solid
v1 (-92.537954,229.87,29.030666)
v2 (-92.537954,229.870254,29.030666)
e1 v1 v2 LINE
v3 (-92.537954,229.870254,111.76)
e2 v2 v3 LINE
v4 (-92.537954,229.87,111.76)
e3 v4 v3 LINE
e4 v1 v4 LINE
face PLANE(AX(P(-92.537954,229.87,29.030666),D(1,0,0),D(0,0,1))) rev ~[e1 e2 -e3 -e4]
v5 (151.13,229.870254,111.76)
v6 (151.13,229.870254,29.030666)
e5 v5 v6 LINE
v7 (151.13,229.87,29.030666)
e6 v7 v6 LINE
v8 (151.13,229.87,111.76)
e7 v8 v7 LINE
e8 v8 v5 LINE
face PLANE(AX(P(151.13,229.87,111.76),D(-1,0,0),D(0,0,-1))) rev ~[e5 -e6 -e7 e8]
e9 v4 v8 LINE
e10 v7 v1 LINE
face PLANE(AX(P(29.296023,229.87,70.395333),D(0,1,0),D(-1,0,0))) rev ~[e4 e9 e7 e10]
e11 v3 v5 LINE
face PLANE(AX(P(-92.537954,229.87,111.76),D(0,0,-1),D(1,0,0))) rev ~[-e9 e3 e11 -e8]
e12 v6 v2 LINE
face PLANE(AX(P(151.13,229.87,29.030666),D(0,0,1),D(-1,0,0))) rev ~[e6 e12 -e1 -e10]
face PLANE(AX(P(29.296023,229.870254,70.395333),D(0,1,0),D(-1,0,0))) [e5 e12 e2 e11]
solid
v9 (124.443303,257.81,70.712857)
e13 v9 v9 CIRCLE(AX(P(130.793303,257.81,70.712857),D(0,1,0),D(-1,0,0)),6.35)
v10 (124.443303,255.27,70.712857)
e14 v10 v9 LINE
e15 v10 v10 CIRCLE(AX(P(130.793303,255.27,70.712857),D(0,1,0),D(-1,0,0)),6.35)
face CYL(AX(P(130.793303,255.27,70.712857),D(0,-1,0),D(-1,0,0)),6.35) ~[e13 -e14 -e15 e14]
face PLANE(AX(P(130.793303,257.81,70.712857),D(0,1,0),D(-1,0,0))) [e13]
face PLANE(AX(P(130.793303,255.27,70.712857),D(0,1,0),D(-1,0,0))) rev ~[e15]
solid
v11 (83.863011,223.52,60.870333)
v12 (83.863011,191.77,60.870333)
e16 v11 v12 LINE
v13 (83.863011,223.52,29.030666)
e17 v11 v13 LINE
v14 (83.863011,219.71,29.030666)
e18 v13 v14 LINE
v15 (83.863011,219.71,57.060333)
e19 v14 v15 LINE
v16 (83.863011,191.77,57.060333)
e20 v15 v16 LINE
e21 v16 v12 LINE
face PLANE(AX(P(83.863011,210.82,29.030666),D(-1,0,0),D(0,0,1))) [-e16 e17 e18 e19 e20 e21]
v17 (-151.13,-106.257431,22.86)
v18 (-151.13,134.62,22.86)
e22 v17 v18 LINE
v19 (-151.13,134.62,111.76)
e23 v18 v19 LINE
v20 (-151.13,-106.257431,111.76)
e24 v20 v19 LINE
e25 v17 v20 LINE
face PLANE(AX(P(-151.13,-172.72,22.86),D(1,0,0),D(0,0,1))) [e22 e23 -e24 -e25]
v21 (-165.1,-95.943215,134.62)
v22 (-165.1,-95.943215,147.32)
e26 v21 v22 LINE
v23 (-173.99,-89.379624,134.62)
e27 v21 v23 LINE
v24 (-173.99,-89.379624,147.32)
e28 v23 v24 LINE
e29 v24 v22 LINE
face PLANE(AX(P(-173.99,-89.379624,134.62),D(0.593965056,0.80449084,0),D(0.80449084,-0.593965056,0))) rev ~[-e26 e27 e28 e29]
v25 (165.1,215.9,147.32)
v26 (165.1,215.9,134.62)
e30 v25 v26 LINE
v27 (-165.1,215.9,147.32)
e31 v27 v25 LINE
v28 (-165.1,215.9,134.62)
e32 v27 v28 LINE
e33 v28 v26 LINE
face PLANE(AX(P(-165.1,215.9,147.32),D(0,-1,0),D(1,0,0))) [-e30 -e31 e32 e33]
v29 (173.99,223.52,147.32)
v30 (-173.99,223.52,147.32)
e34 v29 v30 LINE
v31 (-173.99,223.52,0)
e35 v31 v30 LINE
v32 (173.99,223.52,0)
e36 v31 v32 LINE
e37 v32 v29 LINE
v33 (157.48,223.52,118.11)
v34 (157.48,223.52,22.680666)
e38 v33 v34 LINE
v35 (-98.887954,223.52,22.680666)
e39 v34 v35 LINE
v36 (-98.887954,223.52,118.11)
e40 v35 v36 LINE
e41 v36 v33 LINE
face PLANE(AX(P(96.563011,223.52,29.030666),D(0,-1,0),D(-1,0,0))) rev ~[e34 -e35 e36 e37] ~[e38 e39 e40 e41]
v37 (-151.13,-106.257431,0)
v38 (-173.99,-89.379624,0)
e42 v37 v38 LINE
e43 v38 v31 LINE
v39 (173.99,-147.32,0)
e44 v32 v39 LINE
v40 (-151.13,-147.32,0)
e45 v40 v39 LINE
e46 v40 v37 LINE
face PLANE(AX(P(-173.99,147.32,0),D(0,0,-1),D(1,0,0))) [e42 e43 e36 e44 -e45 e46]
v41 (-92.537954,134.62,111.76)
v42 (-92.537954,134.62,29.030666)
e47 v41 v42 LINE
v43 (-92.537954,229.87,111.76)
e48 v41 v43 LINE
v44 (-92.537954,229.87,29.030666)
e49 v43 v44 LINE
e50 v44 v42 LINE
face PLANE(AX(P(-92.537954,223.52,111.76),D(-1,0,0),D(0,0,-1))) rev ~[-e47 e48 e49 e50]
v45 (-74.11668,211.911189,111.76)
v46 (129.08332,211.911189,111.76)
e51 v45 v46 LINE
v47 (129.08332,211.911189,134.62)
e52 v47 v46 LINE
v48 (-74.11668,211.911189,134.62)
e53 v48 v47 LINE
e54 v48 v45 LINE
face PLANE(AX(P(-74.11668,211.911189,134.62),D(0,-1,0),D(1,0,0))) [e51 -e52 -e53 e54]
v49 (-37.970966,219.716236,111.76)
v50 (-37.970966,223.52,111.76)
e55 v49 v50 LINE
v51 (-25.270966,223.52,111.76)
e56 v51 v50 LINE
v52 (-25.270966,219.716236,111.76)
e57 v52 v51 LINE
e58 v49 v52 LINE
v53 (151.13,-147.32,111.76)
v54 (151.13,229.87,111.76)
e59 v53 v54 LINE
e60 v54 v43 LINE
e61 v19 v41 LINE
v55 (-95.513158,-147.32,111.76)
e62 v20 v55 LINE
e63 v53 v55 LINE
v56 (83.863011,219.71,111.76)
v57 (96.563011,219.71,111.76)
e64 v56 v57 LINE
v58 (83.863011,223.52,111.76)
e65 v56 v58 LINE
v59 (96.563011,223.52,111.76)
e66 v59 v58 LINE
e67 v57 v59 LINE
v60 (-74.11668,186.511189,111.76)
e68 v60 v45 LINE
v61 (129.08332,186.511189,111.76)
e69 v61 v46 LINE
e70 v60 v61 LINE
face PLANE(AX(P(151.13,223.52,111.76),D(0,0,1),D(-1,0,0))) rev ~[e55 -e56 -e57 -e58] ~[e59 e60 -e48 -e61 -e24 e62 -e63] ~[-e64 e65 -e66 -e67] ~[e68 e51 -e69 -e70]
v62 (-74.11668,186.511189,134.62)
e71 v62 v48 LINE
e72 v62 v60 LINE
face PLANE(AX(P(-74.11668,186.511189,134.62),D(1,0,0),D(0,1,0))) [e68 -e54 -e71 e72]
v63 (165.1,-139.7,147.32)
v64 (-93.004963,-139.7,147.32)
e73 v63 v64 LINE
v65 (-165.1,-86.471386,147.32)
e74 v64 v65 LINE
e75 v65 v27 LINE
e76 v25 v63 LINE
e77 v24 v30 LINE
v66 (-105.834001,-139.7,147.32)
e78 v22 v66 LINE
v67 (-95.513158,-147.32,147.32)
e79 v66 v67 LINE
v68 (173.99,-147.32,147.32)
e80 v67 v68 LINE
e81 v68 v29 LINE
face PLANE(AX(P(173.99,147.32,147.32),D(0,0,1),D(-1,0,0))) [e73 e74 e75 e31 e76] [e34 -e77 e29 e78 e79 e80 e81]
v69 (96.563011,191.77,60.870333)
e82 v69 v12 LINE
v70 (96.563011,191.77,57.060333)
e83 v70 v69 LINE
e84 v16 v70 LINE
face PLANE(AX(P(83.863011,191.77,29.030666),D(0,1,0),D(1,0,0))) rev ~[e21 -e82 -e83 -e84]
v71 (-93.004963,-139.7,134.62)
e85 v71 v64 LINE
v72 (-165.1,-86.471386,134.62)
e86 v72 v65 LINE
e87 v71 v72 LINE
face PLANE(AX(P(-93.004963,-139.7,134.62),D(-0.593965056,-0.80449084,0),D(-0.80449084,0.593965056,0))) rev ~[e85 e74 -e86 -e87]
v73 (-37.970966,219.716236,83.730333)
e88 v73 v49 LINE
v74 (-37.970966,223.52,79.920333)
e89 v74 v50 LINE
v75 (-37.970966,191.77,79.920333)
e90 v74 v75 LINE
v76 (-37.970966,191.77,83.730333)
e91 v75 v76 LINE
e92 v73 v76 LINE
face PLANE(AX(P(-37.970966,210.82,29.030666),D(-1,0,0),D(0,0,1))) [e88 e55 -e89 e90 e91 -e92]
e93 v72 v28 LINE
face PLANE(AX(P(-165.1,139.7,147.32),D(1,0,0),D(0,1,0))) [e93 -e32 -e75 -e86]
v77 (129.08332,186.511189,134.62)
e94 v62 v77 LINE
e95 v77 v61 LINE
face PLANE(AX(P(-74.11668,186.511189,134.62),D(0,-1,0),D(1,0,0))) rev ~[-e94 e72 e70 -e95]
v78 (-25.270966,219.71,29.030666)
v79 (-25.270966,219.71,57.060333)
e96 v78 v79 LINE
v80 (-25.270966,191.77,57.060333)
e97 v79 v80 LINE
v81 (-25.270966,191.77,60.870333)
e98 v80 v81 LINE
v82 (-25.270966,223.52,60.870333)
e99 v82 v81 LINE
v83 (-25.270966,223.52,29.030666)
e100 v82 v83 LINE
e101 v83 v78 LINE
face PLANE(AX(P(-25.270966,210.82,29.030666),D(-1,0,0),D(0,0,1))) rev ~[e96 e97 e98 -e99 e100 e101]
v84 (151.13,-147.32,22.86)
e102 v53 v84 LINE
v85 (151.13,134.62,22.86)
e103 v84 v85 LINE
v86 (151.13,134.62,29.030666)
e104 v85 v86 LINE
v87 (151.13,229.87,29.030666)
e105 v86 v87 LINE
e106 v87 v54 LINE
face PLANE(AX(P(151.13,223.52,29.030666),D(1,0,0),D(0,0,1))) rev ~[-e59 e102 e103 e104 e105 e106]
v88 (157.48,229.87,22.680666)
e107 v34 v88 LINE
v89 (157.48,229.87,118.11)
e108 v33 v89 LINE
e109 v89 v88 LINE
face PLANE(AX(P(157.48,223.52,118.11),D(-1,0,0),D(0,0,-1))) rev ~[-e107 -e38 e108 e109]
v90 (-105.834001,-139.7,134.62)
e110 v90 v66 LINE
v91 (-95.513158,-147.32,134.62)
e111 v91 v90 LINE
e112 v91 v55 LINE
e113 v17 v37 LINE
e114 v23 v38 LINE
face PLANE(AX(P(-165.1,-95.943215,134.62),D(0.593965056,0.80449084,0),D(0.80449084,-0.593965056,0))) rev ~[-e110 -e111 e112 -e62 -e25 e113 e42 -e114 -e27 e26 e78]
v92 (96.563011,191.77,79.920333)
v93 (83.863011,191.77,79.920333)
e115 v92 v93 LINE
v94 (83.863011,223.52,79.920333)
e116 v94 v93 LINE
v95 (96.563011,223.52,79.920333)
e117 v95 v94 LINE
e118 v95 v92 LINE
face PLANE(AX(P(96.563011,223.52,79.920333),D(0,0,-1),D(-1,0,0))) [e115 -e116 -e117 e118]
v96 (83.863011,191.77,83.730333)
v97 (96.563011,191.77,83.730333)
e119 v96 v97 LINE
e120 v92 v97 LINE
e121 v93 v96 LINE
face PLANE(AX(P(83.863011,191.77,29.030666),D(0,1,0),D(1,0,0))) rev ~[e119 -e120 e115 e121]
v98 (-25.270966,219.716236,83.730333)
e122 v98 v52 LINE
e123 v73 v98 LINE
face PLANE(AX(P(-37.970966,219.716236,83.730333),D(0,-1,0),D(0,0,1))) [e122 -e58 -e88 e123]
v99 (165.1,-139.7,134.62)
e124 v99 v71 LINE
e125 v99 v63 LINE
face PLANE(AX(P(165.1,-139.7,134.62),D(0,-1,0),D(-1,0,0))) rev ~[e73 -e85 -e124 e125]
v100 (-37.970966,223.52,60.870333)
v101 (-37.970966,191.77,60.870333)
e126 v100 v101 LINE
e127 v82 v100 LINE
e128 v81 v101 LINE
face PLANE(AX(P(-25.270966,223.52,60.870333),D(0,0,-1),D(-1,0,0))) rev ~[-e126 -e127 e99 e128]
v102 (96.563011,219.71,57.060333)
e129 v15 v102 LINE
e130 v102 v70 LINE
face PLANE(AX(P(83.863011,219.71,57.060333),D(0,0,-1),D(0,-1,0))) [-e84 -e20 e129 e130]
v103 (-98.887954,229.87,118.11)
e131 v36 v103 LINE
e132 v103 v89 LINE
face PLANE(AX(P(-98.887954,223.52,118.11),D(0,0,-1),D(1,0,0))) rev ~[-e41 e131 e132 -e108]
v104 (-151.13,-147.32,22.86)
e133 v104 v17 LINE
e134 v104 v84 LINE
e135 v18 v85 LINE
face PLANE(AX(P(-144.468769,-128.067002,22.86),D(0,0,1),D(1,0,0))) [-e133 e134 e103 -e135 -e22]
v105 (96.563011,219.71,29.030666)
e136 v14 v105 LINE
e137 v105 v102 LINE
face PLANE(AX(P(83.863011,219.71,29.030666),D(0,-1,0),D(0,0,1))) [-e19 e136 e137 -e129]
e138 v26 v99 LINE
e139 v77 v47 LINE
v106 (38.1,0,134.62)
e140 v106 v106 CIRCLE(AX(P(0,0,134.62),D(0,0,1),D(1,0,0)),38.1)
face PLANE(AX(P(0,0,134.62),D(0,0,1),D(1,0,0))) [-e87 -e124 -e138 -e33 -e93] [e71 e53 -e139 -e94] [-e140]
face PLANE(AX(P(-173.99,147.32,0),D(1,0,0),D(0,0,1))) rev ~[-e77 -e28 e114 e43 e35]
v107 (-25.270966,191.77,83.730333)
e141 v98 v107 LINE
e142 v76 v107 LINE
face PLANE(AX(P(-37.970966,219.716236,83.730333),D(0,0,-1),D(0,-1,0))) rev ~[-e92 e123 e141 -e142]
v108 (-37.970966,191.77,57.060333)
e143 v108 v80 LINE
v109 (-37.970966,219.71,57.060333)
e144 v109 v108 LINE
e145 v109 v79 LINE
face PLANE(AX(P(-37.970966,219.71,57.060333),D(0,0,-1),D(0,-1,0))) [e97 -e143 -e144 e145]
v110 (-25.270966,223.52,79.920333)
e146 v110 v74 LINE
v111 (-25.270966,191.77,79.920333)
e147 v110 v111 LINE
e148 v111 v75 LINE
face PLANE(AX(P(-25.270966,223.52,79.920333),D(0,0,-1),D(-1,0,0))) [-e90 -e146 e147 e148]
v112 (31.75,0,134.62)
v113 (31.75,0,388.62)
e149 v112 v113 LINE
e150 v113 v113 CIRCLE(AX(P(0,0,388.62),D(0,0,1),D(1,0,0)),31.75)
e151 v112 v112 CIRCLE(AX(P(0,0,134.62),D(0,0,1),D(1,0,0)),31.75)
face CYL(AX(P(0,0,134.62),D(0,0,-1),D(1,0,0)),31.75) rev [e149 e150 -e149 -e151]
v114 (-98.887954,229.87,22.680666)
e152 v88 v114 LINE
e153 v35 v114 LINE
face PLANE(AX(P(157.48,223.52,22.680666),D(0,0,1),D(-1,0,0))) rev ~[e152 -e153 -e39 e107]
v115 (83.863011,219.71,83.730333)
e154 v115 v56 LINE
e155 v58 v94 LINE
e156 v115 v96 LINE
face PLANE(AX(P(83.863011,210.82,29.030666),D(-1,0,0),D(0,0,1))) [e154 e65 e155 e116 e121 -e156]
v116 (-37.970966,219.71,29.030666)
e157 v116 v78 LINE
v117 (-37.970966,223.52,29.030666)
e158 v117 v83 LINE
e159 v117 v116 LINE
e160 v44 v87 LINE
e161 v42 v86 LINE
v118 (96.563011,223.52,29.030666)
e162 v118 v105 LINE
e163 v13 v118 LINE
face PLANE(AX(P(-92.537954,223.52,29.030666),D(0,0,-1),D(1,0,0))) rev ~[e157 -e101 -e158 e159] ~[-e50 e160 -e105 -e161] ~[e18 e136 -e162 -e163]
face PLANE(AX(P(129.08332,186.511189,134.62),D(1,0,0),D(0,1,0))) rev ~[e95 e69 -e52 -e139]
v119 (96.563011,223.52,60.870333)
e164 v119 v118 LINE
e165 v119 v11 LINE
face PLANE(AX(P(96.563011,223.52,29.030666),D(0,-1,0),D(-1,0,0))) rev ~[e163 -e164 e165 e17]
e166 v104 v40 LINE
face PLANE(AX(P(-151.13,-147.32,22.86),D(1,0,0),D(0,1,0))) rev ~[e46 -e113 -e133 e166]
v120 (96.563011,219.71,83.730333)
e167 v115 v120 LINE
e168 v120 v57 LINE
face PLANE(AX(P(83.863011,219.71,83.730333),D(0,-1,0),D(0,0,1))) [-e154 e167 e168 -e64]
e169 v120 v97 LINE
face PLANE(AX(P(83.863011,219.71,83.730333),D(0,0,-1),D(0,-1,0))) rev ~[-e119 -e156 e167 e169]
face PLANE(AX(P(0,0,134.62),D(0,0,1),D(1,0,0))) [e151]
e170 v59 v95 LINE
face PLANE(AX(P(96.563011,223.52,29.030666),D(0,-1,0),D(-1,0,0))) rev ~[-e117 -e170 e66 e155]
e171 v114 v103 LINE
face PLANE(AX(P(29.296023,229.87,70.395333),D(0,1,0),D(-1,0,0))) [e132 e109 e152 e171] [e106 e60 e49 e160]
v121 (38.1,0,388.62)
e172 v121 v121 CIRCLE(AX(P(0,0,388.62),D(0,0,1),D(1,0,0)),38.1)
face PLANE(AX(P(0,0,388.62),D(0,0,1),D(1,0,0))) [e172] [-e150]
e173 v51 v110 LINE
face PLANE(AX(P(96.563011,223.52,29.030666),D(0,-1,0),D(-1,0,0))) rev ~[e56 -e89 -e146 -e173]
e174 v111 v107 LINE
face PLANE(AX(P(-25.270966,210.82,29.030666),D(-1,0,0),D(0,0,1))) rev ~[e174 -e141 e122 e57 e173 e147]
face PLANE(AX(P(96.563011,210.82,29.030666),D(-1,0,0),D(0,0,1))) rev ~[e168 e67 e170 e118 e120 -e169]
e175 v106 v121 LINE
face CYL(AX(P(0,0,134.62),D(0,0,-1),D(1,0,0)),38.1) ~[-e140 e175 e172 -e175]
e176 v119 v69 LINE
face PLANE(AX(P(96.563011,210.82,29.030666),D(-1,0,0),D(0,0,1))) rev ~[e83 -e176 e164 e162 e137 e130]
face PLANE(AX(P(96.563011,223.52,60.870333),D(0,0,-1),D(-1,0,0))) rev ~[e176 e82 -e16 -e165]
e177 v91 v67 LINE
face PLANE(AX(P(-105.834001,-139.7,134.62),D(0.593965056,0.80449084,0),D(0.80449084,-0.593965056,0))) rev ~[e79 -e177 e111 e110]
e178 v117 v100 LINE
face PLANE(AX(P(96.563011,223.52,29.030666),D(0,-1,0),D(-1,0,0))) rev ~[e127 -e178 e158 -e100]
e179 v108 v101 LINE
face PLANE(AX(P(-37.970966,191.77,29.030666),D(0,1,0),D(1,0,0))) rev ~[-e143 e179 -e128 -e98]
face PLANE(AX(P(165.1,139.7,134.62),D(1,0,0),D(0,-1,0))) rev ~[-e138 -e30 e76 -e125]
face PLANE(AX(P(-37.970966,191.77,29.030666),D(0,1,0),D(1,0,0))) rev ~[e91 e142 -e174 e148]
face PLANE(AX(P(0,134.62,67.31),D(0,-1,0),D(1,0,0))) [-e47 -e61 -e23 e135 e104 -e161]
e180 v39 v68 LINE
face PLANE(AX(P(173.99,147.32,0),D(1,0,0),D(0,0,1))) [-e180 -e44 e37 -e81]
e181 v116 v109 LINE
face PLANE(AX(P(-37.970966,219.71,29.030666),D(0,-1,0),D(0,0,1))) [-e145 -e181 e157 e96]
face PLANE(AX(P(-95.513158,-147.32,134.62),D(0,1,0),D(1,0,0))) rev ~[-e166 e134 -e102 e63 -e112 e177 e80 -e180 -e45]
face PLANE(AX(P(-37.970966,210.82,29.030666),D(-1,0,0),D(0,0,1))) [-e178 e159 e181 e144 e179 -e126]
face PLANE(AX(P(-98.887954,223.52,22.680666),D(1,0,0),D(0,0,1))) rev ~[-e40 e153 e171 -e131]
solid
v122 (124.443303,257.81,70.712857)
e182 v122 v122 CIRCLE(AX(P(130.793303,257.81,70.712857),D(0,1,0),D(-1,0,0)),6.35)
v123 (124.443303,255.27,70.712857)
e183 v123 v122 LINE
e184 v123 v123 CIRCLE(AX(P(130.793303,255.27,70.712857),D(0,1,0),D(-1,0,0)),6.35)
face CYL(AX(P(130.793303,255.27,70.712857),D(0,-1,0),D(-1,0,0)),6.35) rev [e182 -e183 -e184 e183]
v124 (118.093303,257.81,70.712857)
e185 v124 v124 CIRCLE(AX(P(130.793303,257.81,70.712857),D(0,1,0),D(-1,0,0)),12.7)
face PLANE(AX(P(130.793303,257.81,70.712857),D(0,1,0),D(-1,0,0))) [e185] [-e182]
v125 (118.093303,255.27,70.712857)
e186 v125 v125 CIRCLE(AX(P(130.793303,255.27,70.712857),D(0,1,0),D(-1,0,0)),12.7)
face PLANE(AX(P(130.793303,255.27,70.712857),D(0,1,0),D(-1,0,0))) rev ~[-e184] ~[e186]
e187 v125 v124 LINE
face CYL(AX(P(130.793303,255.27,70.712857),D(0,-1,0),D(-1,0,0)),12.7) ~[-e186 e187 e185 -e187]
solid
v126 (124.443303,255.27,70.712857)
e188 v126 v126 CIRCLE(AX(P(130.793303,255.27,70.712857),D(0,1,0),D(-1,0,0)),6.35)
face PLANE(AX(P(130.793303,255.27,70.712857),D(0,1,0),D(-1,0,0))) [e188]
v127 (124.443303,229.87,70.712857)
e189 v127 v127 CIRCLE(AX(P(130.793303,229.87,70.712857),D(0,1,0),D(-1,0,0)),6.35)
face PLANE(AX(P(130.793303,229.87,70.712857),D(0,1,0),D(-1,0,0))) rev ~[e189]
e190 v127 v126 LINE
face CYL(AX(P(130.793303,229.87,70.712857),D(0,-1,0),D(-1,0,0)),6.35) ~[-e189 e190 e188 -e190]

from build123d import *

# Parameters (mm, degrees)
F0_W      = 347.98
F0_H      = 294.64
F1_DEPTH  = 134.62
F3_W      = 302.26
F3_H      = 88.9
F4_DEPTH  = 307.34
F6_DEPTH  = 111.76
F9_DEPTH  = 25.4
F11_DEPTH = 12.7
F12_DEPTH = 12.7
F13_R     = 38.1
F13_R_2   = 31.75
F14_DEPTH = 254
F15_W     = 255.4974332452
F15_H     = 99.8806357384
F16_DEPTH = 254
F18_DEPTH = 254
F19_DEPTH = 254
F20_DEPTH = 76.2
F21_W     = 330.2
F21_H     = 76.2
F22_DEPTH = 12.7
F24_DEPTH = 83.82
F25_DEPTH = 25.4
F26_DEPTH = 19.05
F27_DEPTH = 19.05
F28_W     = 12.7
F28_H     = 19.05
F29_DEPTH = 33.02
F30_W     = 12.7
F30_H     = 19.05
F31_DEPTH = 33.02
F32_W     = 27.94
F32_H     = 28.0296671224
F33_DEPTH = 12.7
F34_W     = 27.94
F34_H     = 28.0296671224
F35_DEPTH = 12.7
F36_W     = 27.9462359953
F36_H     = 28.0296671224
F37_DEPTH = 12.7
F38_W     = 27.94
F38_H     = 28.0296671224
F39_DEPTH = 12.7
F41_DEPTH = 6.35
F43_DEPTH = 0.000254
F44_R     = 6.35
F45_DEPTH = 25.4
F46_R     = 12.7
F46_R_2   = 6.35
F47_DEPTH = 2.54
F48_R     = 6.35
F49_DEPTH = 2.54
F50_W     = 203.2
F50_H     = 25.4
F51_DEPTH = 25.4


with BuildPart() as f1:
    # F0 (on Top) → F1 (new body)
    with BuildSketch(Plane.XY):
        Rectangle(F0_W, F0_H)
    extrude(amount=F1_DEPTH)

    # F3 (on offset) → F4 (cut)
    with BuildSketch(Plane.XZ.offset(172.72)):
        with Locations((0, 67.31)):
            Rectangle(F3_W, F3_H)
    extrude(amount=-F4_DEPTH, mode=Mode.SUBTRACT)

    # F5 (on face) → F6 (cut)
    with BuildSketch(Plane.XY.offset(134.62)):
        Polygon((-173.99, -147.32), (-95.5131575465, -147.32), (-173.99, -89.3796235323), align=None)
    extrude(amount=-F6_DEPTH, mode=Mode.SUBTRACT)

    # F7 (on face) → F9 (cut)
    with BuildSketch(Plane.XY.offset(22.86)):
        Polygon((-151.13, -147.32), (-151.13, -106.257430598), (-173.99, -89.3796235323), (-173.99, -147.32), align=None)
    extrude(amount=-F9_DEPTH, mode=Mode.SUBTRACT)

    # F10 (on face) → F11 (join)
    with BuildSketch(Plane.XY.offset(134.62)):
        Polygon((-165.1, 139.7), (165.1, 139.7), (165.1, -139.7), (-93.0049631971, -139.7), (-105.8340007297, -139.7), (-95.5131575465, -147.32), (173.99, -147.32), (173.99, 147.32), (-173.99, 147.32), (-173.99, -89.3796235323), (-165.1, -95.9432151689), (-165.1, -86.471385759), align=None)
    extrude(amount=F11_DEPTH)

    # F10 (on face) → F12 (join)
    with BuildSketch(Plane.XY.offset(134.62)):
        Polygon((-93.0049631971, -139.7), (-165.1, -86.471385759), (-165.1, -95.9432151689), (-105.8340007297, -139.7), align=None)
    extrude(amount=F12_DEPTH)

    # F13 (on face) → F14 (join)
    with BuildSketch(Plane.XY.offset(134.62)):
        Circle(F13_R)
        Circle(F13_R_2, mode=Mode.SUBTRACT)
    extrude(amount=F14_DEPTH)

    # F15 (on face) → F16 (cut)
    with BuildSketch(Plane(origin=(0, 147.32, 0), x_dir=(-1, 0, 0), z_dir=(0, 1, 0))):
        with Locations((-35.2107621729, 78.9709836245)):
            Rectangle(F15_W, F15_H)
    extrude(amount=-F16_DEPTH, mode=Mode.SUBTRACT)

    # F17 (on face) → F18 (join)
    with BuildSketch(Plane(origin=(0, -106.68, 0), x_dir=(-1, 0, 0), z_dir=(0, 1, 0))):
        Polygon((-162.9594787955, 111.76), (-151.13, 111.76), (92.5379544497, 111.76), (92.5379544497, 128.9113014936), (-162.9594787955, 128.9113014936), align=None)
    extrude(amount=F18_DEPTH)

    # F19 (add): a face of the model
    f19_faces = [f1.faces().sort_by_distance(p)[0] for p in [
        (157.0447393978, -106.68, 70.3953328776),
    ]]
    extrude(f19_faces, amount=F19_DEPTH)

    # F20 (add): a face of the model
    f20_faces = [f1.faces().sort_by_distance(p)[0] for p in [
        (170.2112004181, 147.32, 73.66),
    ]]
    extrude(f20_faces, amount=F20_DEPTH)

    # F21 (on face) → F22 (cut)
    with BuildSketch(Plane.XY.offset(147.32)):
        with Locations((0, 177.8)):
            Rectangle(F21_W, F21_H)
    extrude(amount=-F22_DEPTH, mode=Mode.SUBTRACT)

    # F23 (on face) → F24 (join)
    with BuildSketch(Plane.XY.offset(29.0306657553)):
        Polygon((90.2130113876, 223.52), (83.8630113876, 223.52), (83.8630113876, 210.82), (96.5630113876, 210.82), (96.5630113876, 223.52), align=None)
        Polygon((-25.2709658372, 210.82), (-25.2709658372, 223.52), (-31.6209658372, 223.52), (-37.9709658372, 223.52), (-37.9709658372, 210.82), align=None)
    extrude(amount=F24_DEPTH)

    # F23 (on face) → F25 (join)
    with BuildSketch(Plane.XY.offset(29.0306657553)):
        Polygon((90.2130113876, 223.52), (83.8630113876, 223.52), (83.8630113876, 210.82), (96.5630113876, 210.82), (96.5630113876, 223.52), align=None)
        Polygon((-25.2709658372, 210.82), (-25.2709658372, 223.52), (-31.6209658372, 223.52), (-37.9709658372, 223.52), (-37.9709658372, 210.82), align=None)
    extrude(amount=F25_DEPTH)

    # F26 (add): a face of the model
    f26_faces = [f1.faces().sort_by_distance(p)[0] for p in [
        (-31.6209658372, 210.82, 70.3953328776),
    ]]
    extrude(f26_faces, amount=F26_DEPTH)

    # F27 (add): a face of the model
    f27_faces = [f1.faces().sort_by_distance(p)[0] for p in [
        (90.2130113876, 210.82, 70.3953328776),
    ]]
    extrude(f27_faces, amount=F27_DEPTH)

    # F28 (on face) → F29 (cut)
    with BuildSketch(Plane(origin=(0, 223.52, 0), x_dir=(-1, 0, 0), z_dir=(0, 1, 0))):
        with Locations((-90.2130113876, 70.3953328776)):
            Rectangle(F28_W, F28_H)
    extrude(amount=-F29_DEPTH, mode=Mode.SUBTRACT)

    # F30 (on face) → F31 (cut)
    with BuildSketch(Plane(origin=(0, 223.52, 0), x_dir=(-1, 0, 0), z_dir=(0, 1, 0))):
        with Locations((31.6209658372, 70.3953328776)):
            Rectangle(F30_W, F30_H)
    extrude(amount=-F31_DEPTH, mode=Mode.SUBTRACT)

    # F32 (on face) → F33 (cut)
    with BuildSketch(Plane(origin=(83.8630113876, 0, 0), x_dir=(0, -1, 0), z_dir=(-1, 0, 0))):
        with Locations((-205.74, 97.7451664388)):
            Rectangle(F32_W, F32_H)
    extrude(amount=-F33_DEPTH, mode=Mode.SUBTRACT)

    # F34 (on face) → F35 (cut)
    with BuildSketch(Plane(origin=(83.8630113876, 0, 0), x_dir=(0, -1, 0), z_dir=(-1, 0, 0))):
        with Locations((-205.74, 43.0454993165)):
            Rectangle(F34_W, F34_H)
    extrude(amount=-F35_DEPTH, mode=Mode.SUBTRACT)

    # F36 (on face) → F37 (cut)
    with BuildSketch(Plane(origin=(-37.9709658372, 0, 0), x_dir=(0, -1, 0), z_dir=(-1, 0, 0))):
        with Locations((-205.7431179976, 97.7451664388)):
            Rectangle(F36_W, F36_H)
    extrude(amount=-F37_DEPTH, mode=Mode.SUBTRACT)

    # F38 (on face) → F39 (cut)
    with BuildSketch(Plane(origin=(-37.9709658372, 0, 0), x_dir=(0, -1, 0), z_dir=(-1, 0, 0))):
        with Locations((-205.74, 43.0454993165)):
            Rectangle(F38_W, F38_H)
    extrude(amount=-F39_DEPTH, mode=Mode.SUBTRACT)

    # F40 (on face) → F41 (join)
    with BuildSketch(Plane(origin=(0, 223.52, 0), x_dir=(-1, 0, 0), z_dir=(0, 1, 0))):
        Polygon((98.8879544497, 22.6806657553), (98.8879544497, 111.76), (98.8879544497, 118.11), (-151.13, 118.11), (-157.48, 118.11), (-157.48, 29.0306657553), (-157.48, 22.6806657553), align=None)
        Polygon((-151.13, 29.0306657553), (-151.13, 111.76), (-96.5630113876, 111.76), (-83.8630113876, 111.76), (25.2709658372, 111.76), (37.9709658372, 111.76), (92.5379544497, 111.76), (92.5379544497, 29.0306657553), (37.9709658372, 29.0306657553), (25.2709658372, 29.0306657553), (-83.8630113876, 29.0306657553), (-96.5630113876, 29.0306657553), align=None, mode=Mode.SUBTRACT)
    extrude(amount=F41_DEPTH)

    # F50 (on face) → F51 (cut)
    with BuildSketch(Plane.XY.offset(134.62)):
        with Locations((27.4833204985, 199.2111887455)):
            Rectangle(F50_W, F50_H)
    extrude(amount=-F51_DEPTH, mode=Mode.SUBTRACT)


with BuildPart() as f43:
    # F42 (on face) → F43 (new body)
    with BuildSketch(Plane(origin=(0, 229.87, 0), x_dir=(-1, 0, 0), z_dir=(0, 1, 0))):
        Polygon((92.5379544497, 111.76), (-151.13, 111.76), (-151.13, 70.3953328776), (-151.13, 29.0306657553), (92.5379544497, 29.0306657553), align=None)
    extrude(amount=F43_DEPTH)


with BuildPart() as f45:
    # F44 (on face) → F45 (new body)
    with BuildSketch(Plane(origin=(0, 229.87, 0), x_dir=(-1, 0, 0), z_dir=(0, 1, 0))):
        with Locations((-130.7933032513, 70.7128569484)):
            Circle(F44_R)
    extrude(amount=F45_DEPTH)


with BuildPart() as f47:
    # F46 (on face) → F47 (new body)
    with BuildSketch(Plane(origin=(0, 255.27, 0), x_dir=(-1, 0, 0), z_dir=(0, 1, 0))):
        with Locations((-130.7933032513, 70.7128569484)):
            Circle(F46_R)
        with Locations((-130.7933032513, 70.7128569484)):
            Circle(F46_R_2, mode=Mode.SUBTRACT)
    extrude(amount=F47_DEPTH)


with BuildPart() as f49:
    # F48 (on face) → F49 (new body)
    with BuildSketch(Plane(origin=(0, 255.27, 0), x_dir=(-1, 0, 0), z_dir=(0, 1, 0))):
        with Locations((-130.7933032513, 70.7128569484)):
            Circle(F48_R)
    extrude(amount=F49_DEPTH)


solid = Compound([f1.part, f43.part, f45.part, f47.part, f49.part])
